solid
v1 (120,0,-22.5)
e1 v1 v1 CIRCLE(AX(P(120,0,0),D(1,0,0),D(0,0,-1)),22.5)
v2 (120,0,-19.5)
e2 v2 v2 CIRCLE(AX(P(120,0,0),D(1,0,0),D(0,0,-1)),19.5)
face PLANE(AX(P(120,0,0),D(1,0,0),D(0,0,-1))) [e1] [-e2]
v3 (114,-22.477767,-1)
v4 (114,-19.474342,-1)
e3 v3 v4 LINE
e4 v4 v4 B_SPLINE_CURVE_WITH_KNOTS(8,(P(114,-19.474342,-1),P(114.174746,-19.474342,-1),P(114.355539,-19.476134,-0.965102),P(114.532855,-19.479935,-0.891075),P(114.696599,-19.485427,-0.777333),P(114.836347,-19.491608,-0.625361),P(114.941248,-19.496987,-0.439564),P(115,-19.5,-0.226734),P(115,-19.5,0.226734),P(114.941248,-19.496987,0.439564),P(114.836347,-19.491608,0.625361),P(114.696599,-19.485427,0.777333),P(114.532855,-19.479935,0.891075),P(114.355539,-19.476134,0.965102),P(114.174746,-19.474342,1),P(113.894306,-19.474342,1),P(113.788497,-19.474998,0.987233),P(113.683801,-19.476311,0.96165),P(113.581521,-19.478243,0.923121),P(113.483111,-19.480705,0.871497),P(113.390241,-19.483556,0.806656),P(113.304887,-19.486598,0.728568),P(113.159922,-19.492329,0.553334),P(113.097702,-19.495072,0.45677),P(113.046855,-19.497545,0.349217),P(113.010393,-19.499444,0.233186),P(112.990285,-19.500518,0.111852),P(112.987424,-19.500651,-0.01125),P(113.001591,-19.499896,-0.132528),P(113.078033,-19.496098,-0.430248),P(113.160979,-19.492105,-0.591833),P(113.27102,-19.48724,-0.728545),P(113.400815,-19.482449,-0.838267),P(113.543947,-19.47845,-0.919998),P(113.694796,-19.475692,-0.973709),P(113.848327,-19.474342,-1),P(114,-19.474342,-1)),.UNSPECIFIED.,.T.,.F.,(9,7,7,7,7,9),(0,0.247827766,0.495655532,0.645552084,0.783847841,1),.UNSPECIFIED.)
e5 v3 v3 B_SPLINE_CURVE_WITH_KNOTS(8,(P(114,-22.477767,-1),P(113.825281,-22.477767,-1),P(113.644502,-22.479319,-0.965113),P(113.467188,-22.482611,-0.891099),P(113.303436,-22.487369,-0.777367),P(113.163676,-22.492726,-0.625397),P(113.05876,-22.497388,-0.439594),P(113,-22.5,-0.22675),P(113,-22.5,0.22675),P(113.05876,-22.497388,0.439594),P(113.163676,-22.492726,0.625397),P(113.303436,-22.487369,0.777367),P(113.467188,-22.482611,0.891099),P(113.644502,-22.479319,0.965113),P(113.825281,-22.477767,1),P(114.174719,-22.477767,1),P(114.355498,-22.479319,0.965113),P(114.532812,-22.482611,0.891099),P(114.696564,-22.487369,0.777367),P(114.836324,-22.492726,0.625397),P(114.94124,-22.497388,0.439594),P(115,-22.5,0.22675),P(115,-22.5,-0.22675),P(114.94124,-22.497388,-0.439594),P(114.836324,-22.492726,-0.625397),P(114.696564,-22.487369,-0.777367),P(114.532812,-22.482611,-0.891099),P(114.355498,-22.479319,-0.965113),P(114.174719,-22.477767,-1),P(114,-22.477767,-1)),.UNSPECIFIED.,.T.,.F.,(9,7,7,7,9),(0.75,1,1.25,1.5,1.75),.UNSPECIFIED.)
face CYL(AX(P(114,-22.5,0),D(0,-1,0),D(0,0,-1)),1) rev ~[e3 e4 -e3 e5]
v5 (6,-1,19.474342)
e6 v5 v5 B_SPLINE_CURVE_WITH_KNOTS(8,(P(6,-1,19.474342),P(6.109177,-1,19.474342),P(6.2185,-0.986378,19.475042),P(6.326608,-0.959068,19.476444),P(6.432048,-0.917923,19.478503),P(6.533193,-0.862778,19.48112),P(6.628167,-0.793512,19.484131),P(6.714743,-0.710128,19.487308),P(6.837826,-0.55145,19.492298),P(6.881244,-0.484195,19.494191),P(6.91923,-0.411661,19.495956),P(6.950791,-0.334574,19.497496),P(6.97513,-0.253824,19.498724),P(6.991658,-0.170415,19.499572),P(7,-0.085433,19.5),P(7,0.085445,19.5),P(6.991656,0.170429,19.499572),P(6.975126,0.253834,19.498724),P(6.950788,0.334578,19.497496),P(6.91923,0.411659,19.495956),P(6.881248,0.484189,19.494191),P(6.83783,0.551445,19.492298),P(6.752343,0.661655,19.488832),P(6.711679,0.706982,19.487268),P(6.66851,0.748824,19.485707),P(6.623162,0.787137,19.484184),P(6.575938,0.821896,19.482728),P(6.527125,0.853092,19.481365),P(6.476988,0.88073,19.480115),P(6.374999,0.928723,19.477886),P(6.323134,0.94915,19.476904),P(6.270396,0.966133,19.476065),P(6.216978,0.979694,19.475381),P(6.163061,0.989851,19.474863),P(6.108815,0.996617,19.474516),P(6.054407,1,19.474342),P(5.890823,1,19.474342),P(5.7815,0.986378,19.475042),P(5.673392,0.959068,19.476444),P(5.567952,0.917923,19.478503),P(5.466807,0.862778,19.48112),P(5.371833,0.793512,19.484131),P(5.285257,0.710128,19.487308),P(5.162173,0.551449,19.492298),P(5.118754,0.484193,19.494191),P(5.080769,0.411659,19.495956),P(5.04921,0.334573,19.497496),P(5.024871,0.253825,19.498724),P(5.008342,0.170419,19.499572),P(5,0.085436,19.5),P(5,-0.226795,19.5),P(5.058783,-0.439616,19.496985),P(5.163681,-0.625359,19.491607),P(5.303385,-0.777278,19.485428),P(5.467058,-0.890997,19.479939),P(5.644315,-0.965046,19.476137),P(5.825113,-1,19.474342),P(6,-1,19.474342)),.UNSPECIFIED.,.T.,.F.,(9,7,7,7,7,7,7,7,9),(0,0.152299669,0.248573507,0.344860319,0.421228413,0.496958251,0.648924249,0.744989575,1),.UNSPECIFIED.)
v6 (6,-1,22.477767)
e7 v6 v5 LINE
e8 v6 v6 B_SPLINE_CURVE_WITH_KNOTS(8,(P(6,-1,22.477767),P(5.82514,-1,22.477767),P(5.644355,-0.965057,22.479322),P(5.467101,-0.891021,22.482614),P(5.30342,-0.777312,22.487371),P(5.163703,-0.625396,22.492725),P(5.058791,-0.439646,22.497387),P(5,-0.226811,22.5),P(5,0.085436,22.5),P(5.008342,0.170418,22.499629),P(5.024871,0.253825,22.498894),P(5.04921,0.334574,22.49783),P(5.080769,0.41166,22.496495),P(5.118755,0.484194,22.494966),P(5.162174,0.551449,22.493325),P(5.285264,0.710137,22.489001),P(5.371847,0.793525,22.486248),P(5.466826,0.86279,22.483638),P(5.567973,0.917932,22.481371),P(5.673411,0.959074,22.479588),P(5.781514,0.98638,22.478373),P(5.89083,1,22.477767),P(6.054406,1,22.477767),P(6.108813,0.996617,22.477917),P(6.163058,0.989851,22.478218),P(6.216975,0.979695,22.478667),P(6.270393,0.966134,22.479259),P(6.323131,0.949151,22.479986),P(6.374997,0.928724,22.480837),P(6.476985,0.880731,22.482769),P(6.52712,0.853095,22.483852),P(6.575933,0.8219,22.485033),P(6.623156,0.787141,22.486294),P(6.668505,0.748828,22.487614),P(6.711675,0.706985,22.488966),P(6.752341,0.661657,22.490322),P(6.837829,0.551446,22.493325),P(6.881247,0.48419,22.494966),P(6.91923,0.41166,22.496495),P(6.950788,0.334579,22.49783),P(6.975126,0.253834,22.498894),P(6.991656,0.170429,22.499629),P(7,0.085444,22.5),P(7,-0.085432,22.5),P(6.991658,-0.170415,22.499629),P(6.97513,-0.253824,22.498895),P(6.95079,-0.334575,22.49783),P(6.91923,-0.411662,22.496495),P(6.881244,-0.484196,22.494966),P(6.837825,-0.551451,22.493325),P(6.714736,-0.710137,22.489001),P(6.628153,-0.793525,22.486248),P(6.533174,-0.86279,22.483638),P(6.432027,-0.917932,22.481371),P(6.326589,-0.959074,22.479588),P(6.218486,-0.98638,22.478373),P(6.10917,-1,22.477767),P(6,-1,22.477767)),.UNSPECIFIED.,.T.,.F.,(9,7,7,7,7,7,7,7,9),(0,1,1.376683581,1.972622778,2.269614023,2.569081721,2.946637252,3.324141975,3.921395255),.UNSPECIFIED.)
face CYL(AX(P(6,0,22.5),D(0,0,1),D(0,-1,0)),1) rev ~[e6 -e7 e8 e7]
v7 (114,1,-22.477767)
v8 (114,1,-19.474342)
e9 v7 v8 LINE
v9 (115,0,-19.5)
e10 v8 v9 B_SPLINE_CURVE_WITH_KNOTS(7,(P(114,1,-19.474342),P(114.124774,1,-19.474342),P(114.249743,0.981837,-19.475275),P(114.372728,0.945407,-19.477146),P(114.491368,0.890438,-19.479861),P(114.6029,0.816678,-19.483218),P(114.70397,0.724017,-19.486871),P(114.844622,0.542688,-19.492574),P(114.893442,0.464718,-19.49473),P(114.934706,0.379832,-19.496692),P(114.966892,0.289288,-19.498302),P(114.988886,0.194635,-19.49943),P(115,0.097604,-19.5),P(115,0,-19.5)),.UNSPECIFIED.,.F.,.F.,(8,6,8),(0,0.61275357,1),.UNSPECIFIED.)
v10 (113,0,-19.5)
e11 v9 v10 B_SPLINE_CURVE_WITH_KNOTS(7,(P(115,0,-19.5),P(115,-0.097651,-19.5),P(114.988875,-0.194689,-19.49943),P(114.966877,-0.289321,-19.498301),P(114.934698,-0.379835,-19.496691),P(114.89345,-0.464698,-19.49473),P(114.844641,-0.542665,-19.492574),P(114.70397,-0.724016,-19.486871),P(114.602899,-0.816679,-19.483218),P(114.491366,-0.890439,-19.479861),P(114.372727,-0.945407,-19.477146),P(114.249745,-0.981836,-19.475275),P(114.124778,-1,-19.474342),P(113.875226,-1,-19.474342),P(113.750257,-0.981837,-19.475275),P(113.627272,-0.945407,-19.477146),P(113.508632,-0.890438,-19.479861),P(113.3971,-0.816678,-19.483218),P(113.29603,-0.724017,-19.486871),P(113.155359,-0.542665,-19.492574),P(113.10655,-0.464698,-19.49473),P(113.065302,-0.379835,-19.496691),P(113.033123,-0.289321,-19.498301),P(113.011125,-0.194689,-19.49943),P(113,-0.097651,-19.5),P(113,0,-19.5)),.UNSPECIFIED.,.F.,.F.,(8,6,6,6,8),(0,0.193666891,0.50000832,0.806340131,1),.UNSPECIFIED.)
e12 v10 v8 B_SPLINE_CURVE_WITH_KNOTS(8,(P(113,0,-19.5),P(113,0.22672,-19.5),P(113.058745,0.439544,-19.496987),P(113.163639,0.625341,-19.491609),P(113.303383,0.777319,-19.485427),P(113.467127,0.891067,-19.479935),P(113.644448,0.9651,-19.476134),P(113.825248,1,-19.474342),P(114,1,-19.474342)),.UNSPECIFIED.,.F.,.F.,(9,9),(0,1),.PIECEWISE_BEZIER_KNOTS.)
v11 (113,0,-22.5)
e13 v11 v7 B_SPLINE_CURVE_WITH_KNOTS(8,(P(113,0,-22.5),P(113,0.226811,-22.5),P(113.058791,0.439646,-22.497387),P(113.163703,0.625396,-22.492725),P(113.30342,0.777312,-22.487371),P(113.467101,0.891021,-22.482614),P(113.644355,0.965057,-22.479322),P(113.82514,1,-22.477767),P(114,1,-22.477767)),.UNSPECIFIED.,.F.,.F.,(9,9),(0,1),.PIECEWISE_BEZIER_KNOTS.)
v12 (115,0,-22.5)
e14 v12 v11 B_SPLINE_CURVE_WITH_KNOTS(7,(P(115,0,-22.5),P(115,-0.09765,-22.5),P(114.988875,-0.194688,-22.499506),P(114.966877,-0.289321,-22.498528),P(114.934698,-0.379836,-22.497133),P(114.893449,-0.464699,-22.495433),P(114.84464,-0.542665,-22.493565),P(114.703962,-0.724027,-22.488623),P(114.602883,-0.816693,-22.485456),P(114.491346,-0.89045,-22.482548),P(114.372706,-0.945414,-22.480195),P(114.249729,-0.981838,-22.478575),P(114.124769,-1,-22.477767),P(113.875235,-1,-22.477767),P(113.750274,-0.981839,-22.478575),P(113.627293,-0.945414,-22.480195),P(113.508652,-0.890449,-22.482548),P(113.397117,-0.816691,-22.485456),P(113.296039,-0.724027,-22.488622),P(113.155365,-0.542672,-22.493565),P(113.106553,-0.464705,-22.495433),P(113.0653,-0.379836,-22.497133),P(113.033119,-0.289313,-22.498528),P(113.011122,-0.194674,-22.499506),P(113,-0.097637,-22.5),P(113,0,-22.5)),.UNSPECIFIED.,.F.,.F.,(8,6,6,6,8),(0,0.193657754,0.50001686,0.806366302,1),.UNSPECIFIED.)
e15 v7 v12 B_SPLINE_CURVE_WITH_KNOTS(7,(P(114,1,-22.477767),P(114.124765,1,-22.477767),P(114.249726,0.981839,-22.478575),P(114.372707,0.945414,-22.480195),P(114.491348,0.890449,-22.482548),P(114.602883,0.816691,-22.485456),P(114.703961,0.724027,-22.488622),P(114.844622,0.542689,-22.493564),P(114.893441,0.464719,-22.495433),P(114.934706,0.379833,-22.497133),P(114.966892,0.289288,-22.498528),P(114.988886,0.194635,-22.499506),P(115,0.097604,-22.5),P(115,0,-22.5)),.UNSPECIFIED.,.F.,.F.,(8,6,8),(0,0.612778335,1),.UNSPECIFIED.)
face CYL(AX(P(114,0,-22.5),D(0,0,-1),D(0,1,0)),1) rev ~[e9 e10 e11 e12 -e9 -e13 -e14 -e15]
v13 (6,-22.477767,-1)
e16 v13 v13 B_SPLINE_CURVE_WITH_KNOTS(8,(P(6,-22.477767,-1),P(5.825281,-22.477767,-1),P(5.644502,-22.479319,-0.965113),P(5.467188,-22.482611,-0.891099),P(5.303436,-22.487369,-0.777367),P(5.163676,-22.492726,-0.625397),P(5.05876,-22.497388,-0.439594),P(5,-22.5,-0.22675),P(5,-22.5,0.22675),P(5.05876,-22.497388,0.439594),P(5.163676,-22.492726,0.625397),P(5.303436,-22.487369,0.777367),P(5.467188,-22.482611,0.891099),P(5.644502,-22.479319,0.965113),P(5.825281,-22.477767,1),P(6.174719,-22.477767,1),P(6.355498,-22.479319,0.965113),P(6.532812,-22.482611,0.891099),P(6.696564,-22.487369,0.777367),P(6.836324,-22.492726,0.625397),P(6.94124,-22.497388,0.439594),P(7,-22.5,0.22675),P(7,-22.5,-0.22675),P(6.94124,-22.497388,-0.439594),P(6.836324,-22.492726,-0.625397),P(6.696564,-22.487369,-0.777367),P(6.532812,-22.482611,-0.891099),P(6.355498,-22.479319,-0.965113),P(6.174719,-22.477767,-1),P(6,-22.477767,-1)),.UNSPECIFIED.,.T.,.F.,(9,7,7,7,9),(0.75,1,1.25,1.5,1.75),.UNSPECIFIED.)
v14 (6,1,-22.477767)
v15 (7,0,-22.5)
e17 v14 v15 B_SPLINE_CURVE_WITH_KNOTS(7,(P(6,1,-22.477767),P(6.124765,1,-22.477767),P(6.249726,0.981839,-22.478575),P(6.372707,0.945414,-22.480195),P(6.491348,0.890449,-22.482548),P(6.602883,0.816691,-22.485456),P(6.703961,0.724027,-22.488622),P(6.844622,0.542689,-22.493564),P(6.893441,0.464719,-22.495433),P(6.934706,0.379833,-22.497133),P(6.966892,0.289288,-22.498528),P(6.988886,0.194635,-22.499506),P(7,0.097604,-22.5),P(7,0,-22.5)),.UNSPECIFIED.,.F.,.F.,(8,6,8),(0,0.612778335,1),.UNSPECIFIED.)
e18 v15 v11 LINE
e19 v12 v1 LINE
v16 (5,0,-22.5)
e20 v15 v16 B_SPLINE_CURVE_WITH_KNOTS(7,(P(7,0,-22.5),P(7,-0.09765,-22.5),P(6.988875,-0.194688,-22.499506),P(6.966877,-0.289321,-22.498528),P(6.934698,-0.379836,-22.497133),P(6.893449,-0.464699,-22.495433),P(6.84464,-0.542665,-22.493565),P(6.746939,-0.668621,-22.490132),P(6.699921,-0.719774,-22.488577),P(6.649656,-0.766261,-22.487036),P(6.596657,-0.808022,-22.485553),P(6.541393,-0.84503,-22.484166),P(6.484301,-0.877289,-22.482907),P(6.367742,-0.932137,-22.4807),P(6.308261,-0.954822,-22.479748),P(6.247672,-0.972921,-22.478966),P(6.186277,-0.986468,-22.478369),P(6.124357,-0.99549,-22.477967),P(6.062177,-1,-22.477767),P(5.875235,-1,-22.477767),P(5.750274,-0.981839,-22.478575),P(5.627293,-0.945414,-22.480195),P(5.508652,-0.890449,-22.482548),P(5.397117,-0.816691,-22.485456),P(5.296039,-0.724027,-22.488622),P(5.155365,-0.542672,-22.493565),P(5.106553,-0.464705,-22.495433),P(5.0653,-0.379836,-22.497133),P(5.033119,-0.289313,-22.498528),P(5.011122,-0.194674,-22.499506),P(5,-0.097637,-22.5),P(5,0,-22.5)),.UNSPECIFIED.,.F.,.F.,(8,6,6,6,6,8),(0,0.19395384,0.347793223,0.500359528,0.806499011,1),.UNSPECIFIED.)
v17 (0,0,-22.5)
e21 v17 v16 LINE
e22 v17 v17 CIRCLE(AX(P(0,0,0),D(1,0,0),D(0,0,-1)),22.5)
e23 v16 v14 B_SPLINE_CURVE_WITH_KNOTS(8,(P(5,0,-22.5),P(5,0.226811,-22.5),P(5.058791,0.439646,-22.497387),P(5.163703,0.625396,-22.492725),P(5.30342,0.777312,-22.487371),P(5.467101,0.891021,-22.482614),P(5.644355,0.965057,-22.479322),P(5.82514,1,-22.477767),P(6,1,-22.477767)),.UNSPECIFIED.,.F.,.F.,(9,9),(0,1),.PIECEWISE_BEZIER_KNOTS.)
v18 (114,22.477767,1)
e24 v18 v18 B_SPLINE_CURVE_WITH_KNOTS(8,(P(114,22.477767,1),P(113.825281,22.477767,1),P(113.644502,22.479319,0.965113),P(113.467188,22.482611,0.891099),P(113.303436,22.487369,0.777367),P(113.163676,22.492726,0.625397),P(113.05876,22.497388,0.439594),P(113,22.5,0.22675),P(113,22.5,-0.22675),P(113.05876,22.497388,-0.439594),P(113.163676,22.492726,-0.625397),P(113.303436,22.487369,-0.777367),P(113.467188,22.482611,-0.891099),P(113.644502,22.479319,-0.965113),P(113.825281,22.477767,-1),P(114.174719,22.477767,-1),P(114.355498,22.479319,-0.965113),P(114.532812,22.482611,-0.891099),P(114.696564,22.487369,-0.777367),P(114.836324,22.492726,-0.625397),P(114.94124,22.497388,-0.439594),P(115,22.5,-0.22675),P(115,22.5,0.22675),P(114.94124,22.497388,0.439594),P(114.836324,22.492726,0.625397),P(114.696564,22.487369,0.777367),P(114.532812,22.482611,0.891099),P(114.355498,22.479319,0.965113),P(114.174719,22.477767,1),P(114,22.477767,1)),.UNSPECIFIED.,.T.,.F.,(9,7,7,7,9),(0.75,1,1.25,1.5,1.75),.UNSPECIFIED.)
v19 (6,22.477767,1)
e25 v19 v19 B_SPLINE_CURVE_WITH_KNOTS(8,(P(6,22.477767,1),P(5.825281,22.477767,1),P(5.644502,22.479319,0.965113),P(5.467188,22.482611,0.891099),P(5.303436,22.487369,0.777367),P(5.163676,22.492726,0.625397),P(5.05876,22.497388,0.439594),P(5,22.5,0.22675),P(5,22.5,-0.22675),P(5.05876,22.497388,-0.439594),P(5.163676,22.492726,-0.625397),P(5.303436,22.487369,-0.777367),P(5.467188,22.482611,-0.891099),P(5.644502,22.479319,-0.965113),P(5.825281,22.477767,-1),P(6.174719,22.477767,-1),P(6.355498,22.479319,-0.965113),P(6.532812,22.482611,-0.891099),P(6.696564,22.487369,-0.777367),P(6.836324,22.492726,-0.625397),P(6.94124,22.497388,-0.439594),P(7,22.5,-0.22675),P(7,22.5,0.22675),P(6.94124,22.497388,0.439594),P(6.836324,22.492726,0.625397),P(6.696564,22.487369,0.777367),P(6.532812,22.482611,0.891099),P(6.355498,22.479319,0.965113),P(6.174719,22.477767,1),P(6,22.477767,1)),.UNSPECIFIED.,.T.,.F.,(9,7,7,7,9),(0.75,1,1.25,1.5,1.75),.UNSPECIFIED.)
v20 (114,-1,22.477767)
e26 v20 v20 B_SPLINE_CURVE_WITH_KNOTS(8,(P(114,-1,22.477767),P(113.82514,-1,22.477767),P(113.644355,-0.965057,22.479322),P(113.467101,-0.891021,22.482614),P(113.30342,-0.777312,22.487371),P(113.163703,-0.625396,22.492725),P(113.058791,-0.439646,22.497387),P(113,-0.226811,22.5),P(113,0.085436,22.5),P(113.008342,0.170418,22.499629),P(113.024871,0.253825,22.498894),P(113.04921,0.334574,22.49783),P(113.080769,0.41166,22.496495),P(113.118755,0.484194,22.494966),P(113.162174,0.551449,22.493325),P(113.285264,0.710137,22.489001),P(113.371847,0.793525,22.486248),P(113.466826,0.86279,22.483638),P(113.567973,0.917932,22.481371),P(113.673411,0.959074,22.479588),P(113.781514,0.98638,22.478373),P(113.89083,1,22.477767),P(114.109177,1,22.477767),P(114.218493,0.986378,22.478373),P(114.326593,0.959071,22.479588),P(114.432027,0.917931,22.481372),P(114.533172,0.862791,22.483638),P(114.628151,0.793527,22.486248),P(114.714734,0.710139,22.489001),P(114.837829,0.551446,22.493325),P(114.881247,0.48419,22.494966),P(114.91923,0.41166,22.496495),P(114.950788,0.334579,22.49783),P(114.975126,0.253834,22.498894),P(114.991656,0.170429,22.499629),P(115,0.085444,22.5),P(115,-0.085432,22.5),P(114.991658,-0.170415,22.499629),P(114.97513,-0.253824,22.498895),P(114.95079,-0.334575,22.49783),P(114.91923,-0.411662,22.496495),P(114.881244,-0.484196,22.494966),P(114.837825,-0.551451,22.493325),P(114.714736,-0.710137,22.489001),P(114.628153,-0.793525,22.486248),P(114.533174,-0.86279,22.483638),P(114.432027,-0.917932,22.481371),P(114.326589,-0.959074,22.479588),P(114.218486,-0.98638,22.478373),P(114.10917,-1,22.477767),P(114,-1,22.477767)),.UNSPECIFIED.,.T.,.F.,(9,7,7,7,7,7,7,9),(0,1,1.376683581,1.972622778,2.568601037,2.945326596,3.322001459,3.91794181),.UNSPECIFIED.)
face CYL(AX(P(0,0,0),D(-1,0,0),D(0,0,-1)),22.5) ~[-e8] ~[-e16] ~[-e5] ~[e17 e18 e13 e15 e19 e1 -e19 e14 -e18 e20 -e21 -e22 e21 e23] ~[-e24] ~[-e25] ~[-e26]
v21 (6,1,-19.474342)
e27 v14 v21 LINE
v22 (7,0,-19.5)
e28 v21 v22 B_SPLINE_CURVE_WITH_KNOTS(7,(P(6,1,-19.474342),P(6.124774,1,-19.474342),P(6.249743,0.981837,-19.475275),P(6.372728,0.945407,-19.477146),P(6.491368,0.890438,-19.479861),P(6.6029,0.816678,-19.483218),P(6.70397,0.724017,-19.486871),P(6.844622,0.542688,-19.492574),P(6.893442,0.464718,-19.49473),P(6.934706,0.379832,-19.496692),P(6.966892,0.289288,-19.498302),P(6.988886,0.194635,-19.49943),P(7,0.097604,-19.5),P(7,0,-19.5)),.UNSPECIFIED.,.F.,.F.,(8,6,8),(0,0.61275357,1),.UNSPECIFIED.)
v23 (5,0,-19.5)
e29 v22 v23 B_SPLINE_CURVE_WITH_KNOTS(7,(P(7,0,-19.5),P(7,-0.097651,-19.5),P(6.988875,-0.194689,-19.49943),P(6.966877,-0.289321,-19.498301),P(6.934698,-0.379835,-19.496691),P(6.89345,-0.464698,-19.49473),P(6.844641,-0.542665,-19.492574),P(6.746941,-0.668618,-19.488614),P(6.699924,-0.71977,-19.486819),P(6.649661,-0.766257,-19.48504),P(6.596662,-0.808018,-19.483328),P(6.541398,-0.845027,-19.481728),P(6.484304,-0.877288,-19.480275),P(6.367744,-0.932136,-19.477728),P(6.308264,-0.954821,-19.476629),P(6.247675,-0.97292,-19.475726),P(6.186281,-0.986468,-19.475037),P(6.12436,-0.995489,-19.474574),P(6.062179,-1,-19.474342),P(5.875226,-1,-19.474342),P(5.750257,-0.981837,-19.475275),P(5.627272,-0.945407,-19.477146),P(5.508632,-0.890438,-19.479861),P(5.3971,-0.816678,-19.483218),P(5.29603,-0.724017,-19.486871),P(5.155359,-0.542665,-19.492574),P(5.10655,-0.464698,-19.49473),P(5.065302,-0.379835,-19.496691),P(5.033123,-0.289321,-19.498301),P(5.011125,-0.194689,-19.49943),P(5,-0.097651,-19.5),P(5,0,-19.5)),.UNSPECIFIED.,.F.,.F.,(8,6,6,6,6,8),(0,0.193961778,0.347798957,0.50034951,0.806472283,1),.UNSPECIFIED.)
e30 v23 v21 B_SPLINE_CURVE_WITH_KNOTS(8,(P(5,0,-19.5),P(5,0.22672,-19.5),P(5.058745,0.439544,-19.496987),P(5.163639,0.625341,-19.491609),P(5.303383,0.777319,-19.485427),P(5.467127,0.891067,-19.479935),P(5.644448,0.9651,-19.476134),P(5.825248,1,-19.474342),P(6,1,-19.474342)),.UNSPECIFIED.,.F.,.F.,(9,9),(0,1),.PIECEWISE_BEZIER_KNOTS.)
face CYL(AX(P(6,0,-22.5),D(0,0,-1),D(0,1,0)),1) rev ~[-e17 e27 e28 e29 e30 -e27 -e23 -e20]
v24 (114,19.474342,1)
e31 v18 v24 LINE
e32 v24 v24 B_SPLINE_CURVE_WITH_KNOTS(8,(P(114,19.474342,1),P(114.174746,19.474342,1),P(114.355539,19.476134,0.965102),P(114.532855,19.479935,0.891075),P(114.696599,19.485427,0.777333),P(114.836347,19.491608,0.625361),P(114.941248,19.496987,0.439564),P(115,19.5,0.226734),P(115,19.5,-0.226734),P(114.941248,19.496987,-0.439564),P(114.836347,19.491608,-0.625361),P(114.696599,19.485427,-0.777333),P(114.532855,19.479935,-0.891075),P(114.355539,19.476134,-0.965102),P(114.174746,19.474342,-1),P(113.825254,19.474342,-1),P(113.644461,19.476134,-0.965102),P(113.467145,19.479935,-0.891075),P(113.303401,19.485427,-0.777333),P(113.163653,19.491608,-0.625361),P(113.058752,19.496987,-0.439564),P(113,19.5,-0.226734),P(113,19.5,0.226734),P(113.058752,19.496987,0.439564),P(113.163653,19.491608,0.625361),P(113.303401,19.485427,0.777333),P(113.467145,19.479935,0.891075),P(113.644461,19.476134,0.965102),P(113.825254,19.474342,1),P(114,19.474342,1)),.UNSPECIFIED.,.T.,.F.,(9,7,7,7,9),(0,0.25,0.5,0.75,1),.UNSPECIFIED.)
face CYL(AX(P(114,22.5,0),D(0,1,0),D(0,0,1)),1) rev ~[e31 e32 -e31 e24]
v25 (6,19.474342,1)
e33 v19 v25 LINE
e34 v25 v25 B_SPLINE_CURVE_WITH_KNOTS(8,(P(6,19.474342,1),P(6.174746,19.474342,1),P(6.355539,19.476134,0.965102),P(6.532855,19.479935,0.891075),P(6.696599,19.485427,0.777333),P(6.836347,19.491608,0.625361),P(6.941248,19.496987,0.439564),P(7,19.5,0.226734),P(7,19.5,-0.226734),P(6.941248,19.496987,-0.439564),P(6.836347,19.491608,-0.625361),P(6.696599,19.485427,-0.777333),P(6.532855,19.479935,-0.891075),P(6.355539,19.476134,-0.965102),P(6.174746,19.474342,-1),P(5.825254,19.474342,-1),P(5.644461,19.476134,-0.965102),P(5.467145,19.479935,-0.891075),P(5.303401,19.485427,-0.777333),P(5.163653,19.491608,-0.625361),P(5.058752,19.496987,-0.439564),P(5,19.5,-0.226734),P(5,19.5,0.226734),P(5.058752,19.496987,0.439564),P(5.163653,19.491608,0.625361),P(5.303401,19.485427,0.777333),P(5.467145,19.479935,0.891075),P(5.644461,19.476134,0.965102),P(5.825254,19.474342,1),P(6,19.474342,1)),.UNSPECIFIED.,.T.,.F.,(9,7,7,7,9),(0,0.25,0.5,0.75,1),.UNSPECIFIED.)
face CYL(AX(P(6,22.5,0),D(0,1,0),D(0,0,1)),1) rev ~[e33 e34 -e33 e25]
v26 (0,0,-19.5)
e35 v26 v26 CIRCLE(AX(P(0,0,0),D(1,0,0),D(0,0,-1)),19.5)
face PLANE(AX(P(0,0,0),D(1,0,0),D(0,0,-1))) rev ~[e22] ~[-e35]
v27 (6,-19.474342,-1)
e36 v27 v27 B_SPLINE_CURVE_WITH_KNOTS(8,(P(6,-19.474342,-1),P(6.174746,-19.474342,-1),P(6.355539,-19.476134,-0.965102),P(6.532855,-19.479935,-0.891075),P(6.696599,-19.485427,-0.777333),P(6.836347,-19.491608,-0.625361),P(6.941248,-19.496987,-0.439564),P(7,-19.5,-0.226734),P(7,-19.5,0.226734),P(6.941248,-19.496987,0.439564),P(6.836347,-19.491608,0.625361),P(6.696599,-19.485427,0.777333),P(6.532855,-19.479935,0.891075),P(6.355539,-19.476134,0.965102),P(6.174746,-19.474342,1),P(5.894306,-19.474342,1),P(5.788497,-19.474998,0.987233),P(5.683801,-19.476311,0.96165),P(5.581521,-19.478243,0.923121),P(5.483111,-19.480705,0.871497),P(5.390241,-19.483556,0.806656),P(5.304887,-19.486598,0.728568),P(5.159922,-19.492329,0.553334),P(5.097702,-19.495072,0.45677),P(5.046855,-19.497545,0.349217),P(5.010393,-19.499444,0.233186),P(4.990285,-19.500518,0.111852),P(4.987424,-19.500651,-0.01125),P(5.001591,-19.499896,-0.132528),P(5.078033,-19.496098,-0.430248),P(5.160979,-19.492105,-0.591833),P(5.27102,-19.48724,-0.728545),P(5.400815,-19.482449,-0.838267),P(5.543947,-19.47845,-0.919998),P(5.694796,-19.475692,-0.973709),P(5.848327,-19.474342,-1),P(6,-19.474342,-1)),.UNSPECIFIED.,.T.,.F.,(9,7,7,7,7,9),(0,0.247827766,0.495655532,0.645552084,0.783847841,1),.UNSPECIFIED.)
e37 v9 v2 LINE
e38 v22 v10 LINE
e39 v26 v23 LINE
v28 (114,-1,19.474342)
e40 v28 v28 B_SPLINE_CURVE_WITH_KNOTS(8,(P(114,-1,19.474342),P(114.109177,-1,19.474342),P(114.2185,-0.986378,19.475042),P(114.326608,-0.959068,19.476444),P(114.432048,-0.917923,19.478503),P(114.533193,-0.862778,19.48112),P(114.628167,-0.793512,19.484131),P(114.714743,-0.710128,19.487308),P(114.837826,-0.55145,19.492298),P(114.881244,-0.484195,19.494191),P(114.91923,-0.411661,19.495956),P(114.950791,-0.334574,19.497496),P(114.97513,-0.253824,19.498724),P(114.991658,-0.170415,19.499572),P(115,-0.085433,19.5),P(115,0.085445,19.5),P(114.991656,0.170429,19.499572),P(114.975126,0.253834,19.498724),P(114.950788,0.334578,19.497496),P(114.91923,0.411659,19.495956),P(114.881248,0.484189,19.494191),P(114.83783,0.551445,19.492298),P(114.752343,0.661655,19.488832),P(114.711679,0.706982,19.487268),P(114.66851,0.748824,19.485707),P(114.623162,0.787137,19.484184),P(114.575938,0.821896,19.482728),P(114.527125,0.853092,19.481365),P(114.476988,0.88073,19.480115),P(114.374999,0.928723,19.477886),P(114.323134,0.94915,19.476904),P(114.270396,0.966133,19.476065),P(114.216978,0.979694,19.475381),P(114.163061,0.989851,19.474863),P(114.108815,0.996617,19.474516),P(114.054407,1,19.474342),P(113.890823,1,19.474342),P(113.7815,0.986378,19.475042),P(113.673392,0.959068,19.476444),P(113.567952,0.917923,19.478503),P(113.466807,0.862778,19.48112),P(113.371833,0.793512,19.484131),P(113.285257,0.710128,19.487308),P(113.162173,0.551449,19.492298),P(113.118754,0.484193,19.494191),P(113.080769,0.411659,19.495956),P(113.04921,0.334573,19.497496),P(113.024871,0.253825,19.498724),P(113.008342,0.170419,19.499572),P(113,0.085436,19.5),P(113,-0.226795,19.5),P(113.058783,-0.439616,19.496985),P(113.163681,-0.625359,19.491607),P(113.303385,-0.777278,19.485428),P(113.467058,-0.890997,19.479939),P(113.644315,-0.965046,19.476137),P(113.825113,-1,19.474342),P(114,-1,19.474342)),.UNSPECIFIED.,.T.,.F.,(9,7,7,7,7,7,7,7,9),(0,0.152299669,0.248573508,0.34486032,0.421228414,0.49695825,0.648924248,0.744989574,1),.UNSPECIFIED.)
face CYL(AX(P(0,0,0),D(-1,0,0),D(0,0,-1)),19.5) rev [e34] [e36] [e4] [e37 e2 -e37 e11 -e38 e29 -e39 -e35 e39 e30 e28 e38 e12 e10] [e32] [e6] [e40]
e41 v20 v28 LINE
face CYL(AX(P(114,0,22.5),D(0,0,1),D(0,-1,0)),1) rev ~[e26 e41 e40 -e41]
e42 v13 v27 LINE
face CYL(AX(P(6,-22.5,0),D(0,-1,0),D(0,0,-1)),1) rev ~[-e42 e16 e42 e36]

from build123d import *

# Parameters (mm, degrees)
SKETCH_1_R               = 22.5
SKETCH_1_R_2             = 19.5
EXTRUDE_1_DEPTH          = 120
SKETCH_3_R               = 1
CUT_EXTRUDE_1_DEPTH      = 10
PATTERN_CIRCULAR_1_COUNT = 4


with BuildPart() as part:
    # Эскиз1 → Бобышка-Вытянуть1 (new body)
    with BuildSketch(Plane(origin=(0, 0, 0), x_dir=(0, 0, -1), z_dir=(1, 0, 0))):
        Circle(SKETCH_1_R)
        Circle(SKETCH_1_R_2, mode=Mode.SUBTRACT)
    extrude(amount=EXTRUDE_1_DEPTH)

    # Эскиз3 → Вырез-Вытянуть1 (cut)
    with BuildSketch(Plane(origin=(0, 22.5, 0), x_dir=(1, 0, 0), z_dir=(0, 1, 0))):
        with Locations(Location((6, 0, 0), (0, 0, 270))):
            Circle(SKETCH_3_R)
        with Locations(Location((114, 0, 0), (0, 0, 270))):
            Circle(SKETCH_3_R)
    cut_extrude_1 = extrude(amount=-CUT_EXTRUDE_1_DEPTH, mode=Mode.SUBTRACT)

    # Круговой массив1: Вырез-Вытянуть1 ×4 about axis
    pattern_circular_1_axis = Axis((120, 0, 0), (-1, 0, 0))
    for i in range(1, PATTERN_CIRCULAR_1_COUNT):
        add(cut_extrude_1.rotate(pattern_circular_1_axis, i * 360 / PATTERN_CIRCULAR_1_COUNT), mode=Mode.SUBTRACT)


solid = part.part
